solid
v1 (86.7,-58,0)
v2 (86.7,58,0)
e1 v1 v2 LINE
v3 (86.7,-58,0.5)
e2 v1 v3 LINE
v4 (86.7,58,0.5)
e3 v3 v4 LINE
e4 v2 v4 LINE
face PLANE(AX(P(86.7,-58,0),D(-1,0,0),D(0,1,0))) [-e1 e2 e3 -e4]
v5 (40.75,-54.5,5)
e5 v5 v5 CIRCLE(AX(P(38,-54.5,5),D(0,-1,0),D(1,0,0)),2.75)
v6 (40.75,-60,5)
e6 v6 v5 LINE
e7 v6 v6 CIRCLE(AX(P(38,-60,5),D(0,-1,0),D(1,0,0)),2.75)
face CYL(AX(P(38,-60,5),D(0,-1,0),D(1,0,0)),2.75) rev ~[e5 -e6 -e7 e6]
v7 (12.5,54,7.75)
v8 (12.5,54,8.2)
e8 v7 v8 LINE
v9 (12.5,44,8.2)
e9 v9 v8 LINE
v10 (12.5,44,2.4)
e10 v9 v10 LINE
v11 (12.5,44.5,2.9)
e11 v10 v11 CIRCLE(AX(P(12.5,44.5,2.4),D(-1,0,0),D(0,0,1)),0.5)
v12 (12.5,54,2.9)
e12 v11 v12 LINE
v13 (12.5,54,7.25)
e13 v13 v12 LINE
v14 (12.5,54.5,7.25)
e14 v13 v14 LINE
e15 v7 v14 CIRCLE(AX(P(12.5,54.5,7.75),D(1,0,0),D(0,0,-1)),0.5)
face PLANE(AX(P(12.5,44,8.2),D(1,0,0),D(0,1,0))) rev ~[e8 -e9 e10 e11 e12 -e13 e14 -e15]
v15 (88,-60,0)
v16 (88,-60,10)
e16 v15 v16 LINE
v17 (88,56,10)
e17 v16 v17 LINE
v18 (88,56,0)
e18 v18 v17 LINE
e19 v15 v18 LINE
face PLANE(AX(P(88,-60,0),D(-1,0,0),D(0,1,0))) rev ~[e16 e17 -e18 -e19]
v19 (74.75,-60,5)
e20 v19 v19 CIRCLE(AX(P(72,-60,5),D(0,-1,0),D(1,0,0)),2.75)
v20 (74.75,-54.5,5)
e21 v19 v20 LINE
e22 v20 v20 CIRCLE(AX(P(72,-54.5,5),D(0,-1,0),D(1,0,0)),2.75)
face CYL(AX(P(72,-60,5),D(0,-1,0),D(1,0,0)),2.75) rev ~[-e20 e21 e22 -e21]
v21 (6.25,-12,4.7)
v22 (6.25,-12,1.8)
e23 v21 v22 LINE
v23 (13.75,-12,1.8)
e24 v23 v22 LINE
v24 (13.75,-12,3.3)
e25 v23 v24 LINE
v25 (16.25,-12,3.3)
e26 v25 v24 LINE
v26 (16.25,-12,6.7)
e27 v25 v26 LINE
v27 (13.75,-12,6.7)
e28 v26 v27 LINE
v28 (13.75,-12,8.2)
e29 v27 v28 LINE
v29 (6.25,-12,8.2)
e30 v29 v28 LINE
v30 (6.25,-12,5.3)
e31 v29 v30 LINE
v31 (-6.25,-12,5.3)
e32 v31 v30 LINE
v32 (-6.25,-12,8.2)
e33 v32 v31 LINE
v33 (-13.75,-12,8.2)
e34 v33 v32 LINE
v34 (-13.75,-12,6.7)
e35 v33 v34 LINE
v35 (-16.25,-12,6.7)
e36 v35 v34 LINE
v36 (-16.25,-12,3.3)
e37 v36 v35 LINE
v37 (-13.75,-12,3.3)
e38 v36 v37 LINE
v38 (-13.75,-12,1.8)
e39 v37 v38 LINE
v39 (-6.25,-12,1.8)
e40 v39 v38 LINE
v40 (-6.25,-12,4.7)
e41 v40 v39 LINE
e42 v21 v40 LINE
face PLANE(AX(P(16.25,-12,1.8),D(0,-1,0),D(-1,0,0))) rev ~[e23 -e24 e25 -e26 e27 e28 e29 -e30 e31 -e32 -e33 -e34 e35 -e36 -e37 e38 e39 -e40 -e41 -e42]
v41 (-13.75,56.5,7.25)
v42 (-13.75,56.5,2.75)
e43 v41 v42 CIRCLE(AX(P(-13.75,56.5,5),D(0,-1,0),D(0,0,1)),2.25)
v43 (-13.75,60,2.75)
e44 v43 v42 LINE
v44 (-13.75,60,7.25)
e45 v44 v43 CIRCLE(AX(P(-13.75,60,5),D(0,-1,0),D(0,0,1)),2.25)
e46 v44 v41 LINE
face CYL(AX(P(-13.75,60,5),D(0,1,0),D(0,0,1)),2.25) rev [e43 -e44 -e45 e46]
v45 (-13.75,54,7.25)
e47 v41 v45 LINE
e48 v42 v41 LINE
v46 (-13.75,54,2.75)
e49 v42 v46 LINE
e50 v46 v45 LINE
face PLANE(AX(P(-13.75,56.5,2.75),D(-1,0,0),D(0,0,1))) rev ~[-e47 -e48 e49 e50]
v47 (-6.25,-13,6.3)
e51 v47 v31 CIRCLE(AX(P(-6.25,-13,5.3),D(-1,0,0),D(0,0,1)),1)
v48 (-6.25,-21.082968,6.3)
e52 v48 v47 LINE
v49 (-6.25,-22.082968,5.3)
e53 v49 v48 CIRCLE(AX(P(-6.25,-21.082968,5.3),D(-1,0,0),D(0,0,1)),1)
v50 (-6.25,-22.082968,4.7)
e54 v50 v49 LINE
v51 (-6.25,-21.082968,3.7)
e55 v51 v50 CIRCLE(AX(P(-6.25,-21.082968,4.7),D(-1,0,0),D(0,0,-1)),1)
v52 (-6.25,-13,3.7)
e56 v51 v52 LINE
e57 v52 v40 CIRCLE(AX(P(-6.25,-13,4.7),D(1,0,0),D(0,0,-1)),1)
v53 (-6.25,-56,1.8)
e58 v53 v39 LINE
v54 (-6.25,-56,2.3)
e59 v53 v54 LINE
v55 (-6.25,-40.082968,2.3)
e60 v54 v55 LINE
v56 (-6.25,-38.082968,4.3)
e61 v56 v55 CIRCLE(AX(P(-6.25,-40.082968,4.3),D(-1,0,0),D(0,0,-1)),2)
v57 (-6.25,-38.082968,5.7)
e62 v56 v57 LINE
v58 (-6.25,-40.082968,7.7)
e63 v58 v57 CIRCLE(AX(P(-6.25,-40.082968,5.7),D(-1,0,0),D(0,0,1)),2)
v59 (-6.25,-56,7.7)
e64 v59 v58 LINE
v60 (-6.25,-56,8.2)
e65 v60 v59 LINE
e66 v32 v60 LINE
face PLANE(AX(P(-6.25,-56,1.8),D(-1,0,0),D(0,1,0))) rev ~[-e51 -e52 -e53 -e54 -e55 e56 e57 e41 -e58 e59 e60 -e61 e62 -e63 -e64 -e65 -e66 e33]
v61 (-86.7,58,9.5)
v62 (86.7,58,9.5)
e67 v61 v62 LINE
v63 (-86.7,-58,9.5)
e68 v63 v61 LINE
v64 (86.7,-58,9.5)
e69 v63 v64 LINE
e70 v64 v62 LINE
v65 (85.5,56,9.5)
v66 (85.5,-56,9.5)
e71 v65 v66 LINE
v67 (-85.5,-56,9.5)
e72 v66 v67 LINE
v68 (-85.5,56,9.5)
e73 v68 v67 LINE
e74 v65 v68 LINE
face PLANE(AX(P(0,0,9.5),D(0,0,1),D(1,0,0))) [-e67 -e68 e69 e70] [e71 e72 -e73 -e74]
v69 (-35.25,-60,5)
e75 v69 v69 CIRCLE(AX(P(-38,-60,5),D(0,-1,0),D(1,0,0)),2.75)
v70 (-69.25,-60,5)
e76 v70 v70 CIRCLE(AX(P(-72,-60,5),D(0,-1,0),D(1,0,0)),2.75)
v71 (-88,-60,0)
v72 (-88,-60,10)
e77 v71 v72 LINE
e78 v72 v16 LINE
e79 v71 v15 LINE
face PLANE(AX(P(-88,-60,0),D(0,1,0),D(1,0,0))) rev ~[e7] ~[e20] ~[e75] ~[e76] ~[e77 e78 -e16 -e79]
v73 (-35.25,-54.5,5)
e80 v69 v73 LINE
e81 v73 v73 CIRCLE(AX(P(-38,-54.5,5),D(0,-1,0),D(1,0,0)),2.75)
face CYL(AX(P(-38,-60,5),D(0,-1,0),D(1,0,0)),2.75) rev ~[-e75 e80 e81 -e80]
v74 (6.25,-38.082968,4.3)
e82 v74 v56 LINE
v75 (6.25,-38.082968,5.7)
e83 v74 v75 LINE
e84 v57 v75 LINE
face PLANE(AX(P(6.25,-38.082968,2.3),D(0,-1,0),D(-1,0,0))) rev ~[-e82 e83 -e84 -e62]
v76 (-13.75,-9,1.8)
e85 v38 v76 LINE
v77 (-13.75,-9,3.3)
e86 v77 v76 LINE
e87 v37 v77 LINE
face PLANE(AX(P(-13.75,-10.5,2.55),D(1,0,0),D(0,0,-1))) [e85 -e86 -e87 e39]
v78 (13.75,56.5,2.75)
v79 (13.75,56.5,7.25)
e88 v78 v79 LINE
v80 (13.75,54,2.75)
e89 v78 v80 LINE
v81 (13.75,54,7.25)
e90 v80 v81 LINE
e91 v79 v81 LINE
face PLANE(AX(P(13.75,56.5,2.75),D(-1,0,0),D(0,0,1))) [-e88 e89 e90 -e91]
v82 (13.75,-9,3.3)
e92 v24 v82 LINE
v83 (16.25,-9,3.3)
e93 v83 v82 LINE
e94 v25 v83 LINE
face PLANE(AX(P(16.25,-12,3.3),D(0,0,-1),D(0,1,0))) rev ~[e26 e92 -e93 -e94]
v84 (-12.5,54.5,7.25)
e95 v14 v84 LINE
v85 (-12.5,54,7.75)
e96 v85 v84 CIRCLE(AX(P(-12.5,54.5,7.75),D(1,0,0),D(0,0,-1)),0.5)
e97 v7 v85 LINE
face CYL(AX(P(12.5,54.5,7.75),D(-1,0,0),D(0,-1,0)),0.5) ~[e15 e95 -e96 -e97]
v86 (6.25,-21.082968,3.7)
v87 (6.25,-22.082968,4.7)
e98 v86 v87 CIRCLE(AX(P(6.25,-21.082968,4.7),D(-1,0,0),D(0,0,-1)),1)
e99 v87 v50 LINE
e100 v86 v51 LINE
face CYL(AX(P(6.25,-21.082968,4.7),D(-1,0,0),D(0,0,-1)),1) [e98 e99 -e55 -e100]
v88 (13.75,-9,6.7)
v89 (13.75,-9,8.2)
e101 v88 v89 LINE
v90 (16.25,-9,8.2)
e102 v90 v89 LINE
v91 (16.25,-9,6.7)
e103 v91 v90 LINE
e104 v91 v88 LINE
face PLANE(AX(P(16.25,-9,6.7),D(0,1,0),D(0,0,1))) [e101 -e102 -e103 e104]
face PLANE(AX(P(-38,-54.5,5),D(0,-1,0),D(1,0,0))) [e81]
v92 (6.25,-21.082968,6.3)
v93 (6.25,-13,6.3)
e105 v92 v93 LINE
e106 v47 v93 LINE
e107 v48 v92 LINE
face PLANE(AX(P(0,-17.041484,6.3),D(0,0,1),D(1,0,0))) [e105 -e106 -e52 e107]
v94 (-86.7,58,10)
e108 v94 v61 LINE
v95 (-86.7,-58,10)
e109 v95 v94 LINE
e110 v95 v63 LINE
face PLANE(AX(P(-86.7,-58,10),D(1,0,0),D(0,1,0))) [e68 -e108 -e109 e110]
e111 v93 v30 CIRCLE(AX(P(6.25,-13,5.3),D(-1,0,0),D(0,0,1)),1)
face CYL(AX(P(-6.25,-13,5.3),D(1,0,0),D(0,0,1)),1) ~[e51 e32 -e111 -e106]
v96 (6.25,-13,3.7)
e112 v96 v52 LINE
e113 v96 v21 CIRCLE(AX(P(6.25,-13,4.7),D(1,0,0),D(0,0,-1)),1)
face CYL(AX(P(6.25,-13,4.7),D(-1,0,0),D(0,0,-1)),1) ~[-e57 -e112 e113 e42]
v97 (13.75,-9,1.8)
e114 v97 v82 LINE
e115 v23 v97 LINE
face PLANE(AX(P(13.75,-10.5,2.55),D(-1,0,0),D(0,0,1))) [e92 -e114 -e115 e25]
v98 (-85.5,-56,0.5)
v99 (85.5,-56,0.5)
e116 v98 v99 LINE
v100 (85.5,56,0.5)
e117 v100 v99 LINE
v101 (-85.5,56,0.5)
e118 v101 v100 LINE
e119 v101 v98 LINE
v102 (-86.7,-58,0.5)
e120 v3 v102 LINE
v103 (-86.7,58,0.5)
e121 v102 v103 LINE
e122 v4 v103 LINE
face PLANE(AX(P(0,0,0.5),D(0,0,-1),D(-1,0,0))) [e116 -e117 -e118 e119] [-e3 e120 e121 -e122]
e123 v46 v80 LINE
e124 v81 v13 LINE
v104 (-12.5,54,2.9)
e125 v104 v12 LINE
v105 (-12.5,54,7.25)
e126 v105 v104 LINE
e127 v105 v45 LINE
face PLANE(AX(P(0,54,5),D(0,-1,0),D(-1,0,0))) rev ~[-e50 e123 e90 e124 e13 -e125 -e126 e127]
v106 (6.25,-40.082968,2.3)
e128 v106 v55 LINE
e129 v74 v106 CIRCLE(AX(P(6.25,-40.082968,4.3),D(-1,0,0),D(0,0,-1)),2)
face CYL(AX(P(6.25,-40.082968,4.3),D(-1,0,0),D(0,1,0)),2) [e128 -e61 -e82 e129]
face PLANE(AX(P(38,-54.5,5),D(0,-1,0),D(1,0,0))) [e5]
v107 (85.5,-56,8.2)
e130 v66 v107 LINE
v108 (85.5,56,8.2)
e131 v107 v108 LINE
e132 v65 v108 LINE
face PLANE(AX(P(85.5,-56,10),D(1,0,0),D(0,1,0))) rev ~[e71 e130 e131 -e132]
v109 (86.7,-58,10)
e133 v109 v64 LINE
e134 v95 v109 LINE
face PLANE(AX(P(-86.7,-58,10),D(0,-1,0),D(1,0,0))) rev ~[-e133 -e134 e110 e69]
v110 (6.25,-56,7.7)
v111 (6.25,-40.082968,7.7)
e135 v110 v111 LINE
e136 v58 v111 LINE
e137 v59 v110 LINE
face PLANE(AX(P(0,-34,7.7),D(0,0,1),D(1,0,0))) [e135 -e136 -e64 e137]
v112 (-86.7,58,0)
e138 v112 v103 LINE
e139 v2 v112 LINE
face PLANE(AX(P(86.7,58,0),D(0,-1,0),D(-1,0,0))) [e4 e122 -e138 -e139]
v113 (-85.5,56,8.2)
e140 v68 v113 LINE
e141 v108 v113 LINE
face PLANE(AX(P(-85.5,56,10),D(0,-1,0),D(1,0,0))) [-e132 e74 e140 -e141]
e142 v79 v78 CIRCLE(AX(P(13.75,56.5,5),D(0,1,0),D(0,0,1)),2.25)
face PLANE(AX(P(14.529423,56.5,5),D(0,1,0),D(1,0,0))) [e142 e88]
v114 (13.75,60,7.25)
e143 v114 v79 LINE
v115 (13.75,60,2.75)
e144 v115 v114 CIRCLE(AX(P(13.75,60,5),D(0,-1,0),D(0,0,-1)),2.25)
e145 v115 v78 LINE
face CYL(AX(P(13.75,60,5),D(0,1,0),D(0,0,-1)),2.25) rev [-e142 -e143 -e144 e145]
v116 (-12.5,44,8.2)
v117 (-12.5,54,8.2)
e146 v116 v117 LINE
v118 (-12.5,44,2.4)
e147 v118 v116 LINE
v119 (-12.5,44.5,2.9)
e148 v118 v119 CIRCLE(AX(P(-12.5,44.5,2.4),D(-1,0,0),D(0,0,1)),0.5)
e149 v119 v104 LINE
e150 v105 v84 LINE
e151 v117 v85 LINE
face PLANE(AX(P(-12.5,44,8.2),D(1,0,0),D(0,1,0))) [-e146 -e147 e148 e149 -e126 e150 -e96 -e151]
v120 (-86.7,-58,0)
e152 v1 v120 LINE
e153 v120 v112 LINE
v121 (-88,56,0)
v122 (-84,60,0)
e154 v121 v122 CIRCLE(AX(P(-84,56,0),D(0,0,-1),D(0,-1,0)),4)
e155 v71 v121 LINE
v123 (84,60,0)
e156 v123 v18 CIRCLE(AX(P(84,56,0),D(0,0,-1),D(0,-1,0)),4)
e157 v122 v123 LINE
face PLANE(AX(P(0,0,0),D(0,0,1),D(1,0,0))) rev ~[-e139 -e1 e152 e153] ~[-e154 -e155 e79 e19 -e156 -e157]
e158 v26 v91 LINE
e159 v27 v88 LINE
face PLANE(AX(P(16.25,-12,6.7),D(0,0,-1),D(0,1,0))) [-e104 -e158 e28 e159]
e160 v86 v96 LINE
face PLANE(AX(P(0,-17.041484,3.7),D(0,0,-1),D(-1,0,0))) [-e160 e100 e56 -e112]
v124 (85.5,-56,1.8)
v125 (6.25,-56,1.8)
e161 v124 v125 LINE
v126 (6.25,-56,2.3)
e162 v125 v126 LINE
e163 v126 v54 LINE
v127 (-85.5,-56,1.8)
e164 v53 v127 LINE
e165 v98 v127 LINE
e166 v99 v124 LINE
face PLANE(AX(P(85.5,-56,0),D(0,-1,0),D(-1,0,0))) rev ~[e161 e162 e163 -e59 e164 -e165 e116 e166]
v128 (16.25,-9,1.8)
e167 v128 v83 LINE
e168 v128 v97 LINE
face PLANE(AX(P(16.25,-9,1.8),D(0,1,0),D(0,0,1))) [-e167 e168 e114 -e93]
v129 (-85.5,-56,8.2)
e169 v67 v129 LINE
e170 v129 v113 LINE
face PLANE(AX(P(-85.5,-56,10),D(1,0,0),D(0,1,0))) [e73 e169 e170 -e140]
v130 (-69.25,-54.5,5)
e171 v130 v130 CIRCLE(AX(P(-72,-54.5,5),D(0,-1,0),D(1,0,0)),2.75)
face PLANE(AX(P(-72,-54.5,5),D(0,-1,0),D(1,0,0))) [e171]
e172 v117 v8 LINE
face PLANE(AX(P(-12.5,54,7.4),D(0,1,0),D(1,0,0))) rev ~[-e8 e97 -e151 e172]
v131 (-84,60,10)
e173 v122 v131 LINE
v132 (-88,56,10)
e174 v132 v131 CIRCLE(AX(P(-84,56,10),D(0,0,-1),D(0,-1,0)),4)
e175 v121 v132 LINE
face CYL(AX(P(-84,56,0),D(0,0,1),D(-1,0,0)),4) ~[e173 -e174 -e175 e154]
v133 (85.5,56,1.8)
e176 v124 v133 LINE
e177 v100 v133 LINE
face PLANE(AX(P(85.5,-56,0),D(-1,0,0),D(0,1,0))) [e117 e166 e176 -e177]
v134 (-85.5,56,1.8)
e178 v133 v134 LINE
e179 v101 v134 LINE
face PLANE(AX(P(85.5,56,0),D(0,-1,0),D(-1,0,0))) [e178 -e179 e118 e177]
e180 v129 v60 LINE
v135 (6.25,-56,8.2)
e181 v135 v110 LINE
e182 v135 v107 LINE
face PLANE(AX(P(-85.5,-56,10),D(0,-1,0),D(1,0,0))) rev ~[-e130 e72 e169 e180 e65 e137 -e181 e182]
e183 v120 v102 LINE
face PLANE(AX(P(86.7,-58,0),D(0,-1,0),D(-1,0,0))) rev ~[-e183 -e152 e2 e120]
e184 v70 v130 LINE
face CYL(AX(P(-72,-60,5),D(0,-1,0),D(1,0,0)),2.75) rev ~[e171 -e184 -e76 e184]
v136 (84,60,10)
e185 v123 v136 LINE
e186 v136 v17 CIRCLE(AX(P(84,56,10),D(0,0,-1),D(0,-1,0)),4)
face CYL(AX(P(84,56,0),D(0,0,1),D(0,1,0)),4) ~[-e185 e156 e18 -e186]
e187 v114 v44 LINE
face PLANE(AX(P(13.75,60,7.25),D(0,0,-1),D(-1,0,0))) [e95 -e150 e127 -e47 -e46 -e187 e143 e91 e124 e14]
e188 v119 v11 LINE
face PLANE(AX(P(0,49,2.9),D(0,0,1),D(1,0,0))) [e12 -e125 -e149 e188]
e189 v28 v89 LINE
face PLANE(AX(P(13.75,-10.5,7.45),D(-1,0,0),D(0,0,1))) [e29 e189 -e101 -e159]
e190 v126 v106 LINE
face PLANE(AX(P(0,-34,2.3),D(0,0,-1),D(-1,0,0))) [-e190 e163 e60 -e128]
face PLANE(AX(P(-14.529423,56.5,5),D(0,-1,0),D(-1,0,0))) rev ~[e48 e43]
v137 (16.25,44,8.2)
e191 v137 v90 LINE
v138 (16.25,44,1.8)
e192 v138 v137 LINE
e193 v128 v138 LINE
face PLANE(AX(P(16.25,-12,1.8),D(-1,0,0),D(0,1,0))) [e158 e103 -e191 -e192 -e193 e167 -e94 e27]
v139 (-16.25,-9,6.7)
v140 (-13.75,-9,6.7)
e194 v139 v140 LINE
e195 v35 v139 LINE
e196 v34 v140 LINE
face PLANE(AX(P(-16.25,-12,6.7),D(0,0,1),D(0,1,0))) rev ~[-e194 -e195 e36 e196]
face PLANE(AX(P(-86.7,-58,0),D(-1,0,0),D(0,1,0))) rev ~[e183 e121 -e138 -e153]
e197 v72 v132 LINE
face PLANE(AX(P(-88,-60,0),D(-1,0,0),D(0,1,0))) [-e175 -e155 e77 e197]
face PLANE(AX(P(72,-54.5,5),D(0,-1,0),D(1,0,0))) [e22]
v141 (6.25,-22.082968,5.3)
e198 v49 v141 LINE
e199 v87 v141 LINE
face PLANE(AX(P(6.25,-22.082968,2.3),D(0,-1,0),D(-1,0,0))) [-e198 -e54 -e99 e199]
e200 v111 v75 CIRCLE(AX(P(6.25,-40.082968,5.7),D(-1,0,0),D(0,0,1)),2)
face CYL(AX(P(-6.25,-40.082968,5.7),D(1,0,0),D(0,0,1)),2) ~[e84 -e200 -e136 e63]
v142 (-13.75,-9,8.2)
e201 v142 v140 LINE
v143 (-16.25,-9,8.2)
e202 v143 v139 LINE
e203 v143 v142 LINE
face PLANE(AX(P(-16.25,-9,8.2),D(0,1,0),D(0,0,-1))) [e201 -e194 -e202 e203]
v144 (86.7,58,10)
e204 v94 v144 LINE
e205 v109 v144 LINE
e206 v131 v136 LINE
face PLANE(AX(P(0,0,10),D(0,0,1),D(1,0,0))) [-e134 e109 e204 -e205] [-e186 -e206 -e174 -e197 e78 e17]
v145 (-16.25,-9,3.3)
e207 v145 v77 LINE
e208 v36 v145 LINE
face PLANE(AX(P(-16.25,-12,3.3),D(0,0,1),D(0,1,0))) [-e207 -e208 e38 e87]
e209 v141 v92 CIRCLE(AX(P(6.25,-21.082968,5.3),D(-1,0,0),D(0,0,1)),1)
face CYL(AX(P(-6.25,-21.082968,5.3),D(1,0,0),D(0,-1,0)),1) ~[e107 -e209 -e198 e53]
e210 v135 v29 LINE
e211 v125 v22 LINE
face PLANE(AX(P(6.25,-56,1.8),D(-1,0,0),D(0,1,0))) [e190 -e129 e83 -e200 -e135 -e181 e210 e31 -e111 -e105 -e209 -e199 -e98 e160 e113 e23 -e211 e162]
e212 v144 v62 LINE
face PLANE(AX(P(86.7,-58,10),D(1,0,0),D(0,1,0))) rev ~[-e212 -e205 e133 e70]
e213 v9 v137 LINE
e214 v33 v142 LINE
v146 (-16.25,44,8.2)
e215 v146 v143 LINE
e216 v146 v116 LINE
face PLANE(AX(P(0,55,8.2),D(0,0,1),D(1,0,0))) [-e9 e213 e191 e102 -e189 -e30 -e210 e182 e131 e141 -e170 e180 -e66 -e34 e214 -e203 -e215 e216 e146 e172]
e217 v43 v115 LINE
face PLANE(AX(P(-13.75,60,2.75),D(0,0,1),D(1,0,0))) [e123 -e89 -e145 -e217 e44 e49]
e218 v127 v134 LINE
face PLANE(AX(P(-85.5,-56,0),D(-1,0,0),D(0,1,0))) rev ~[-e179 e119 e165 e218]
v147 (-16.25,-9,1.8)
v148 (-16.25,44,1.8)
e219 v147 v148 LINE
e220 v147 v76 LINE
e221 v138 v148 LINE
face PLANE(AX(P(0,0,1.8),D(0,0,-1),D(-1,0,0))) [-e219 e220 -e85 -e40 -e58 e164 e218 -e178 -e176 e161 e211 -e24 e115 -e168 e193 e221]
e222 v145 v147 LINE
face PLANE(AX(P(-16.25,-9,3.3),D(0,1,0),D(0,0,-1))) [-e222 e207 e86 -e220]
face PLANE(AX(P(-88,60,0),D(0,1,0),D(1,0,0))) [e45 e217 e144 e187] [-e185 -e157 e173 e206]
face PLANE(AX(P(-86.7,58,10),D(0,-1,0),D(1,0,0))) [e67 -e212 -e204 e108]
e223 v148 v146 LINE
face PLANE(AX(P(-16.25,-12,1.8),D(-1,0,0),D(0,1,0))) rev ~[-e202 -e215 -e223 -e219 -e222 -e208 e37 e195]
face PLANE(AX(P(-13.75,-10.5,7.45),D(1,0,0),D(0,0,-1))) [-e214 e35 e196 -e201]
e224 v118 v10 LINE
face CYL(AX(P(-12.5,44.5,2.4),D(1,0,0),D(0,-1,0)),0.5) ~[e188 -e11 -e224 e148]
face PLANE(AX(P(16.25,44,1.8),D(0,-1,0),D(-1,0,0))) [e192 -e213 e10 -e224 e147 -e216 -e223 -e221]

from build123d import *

# Parameters (mm, degrees)
SKETCH_1_W           = 176
SKETCH_1_H           = 120
EXTRUDE_1_DEPTH      = 10
SKETCH_2_W           = 171
SKETCH_2_H           = 112
CUT_EXTRUDE_1_DEPTH  = 1.8
SKETCH_3_W           = 171
SKETCH_3_H           = 112
CUT_EXTRUDE_2_DEPTH  = 1.8
SKETCH_5_W           = 173.4
SKETCH_5_H           = 116
CUT_EXTRUDE_3_DEPTH  = 0.5
SKETCH_6_W           = 173.4
SKETCH_6_H           = 116
CUT_EXTRUDE_4_DEPTH  = 0.5
SKETCH_7_W           = 32.5
SKETCH_7_H           = 56
CUT_EXTRUDE_5_DEPTH  = 107.823405675
SKETCH_8_W           = 12.5
SKETCH_8_H           = 44
CUT_EXTRUDE_6_DEPTH  = 0.5
SKETCH_9_W           = 12.5
SKETCH_9_H           = 44
CUT_EXTRUDE_7_DEPTH  = 0.5
SKETCH_10_W          = 25
SKETCH_10_H          = 12
CUT_EXTRUDE_8_DEPTH  = 0.8
CUT_EXTRUDE_10_DEPTH = 6
FILLET_1_R           = 4
FILLET_2_R           = 4
SKETCH_18_W          = 1.5
SKETCH_18_H          = 3
EXTRUDE_3_DEPTH      = 2.5
SKETCH_20_W          = 1.5
SKETCH_20_H          = 3
EXTRUDE_4_DEPTH      = 2.5
SKETCH_21_W          = 12.5
SKETCH_21_H          = 16
CUT_EXTRUDE_12_DEPTH = 107.786188245
SKETCH_22_W          = 25
SKETCH_22_H          = 10
CUT_EXTRUDE_13_DEPTH = 4.5
SKETCH_23_W          = 25
SKETCH_23_H          = 2
EXTRUDE_5_DEPTH      = 0.8
FILLET_15_R          = 0.5
EXTRUDE_START        = 2.5
EXTRUDE_6_DEPTH      = 2.5
SKETCH_25_W          = 12.5
SKETCH_25_H          = 10.082968054
CUT_EXTRUDE_14_DEPTH = 1.4
SKETCH_26_W          = 12.5
SKETCH_26_H          = 10.082968054
CUT_EXTRUDE_15_DEPTH = 1.4
FILLET_16_R          = 1
FILLET_17_R          = 1
FILLET_18_R          = 1
FILLET_19_R          = 1
FILLET_21_R          = 2
FILLET_22_R          = 2
SKETCH_28_R          = 2.75
CUT_EXTRUDE_16_DEPTH = 5.5
FILLET_23_R          = 0.5


with BuildPart() as part:
    # 草图1 → 凸台-拉伸1 (new body)
    with BuildSketch(Plane.XY):
        Rectangle(SKETCH_1_W, SKETCH_1_H)
    extrude(amount=EXTRUDE_1_DEPTH)

    # 草图2 → 切除-拉伸1 (cut)
    with BuildSketch(Plane.XY.offset(10)):
        Rectangle(SKETCH_2_W, SKETCH_2_H)
    extrude(amount=-CUT_EXTRUDE_1_DEPTH, mode=Mode.SUBTRACT)

    # 草图3 → 切除-拉伸2 (cut)
    with BuildSketch(Plane(origin=(0, 0, 0), x_dir=(-1, 0, 0), z_dir=(0, 0, -1))):
        Rectangle(SKETCH_3_W, SKETCH_3_H)
    extrude(amount=-CUT_EXTRUDE_2_DEPTH, mode=Mode.SUBTRACT)

    # 草图5 → 切除-拉伸3 (cut)
    with BuildSketch(Plane(origin=(0, 0, 0), x_dir=(-1, 0, 0), z_dir=(0, 0, -1))):
        Rectangle(SKETCH_5_W, SKETCH_5_H)
    extrude(amount=-CUT_EXTRUDE_3_DEPTH, mode=Mode.SUBTRACT)

    # 草图6 → 切除-拉伸4 (cut)
    with BuildSketch(Plane.XY.offset(10)):
        Rectangle(SKETCH_6_W, SKETCH_6_H)
    extrude(amount=-CUT_EXTRUDE_4_DEPTH, mode=Mode.SUBTRACT)

    # 草图7 → 切除-拉伸5 (cut, through all)
    with BuildSketch(Plane(origin=(0, 0, 1.8), x_dir=(-1, 0, 0), z_dir=(0, 0, -1))):
        with Locations((0, 16)):
            Rectangle(SKETCH_7_W, SKETCH_7_H)
    extrude(amount=-CUT_EXTRUDE_5_DEPTH, mode=Mode.SUBTRACT)

    # 草图8 → 切除-拉伸6 (cut)
    with BuildSketch(Plane(origin=(0, 0, 1.8), x_dir=(-1, 0, 0), z_dir=(0, 0, -1))):
        with Locations((0, -34)):
            Rectangle(SKETCH_8_W, SKETCH_8_H)
    extrude(amount=-CUT_EXTRUDE_6_DEPTH, mode=Mode.SUBTRACT)

    # 草图9 → 切除-拉伸7 (cut)
    with BuildSketch(Plane.XY.offset(8.2)):
        with Locations((0, -34)):
            Rectangle(SKETCH_9_W, SKETCH_9_H)
    extrude(amount=-CUT_EXTRUDE_7_DEPTH, mode=Mode.SUBTRACT)

    # 草图10 → 切除-拉伸8 (cut)
    with BuildSketch(Plane.XY.offset(8.2)):
        with Locations((0, 50)):
            Rectangle(SKETCH_10_W, SKETCH_10_H)
    extrude(amount=-CUT_EXTRUDE_8_DEPTH, mode=Mode.SUBTRACT)

    # 草图13 → 切除-拉伸10 (cut)
    with BuildSketch(Plane(origin=(0, 60, 0), x_dir=(1, 0, 0), z_dir=(0, 1, 0))):
        with BuildLine():
            Line((-13.75, -2.75), (13.75, -2.75))
            ThreePointArc((13.75, -2.75), (16, -5), (13.75, -7.25))
            Line((13.75, -7.25), (-13.75, -7.25))
            ThreePointArc((-13.75, -7.25), (-16, -5), (-13.75, -2.75))
        make_face()
    extrude(amount=-CUT_EXTRUDE_10_DEPTH, mode=Mode.SUBTRACT)

    # 圆角1
    fillet_1_edges = [part.edges().sort_by_distance(p)[0] for p in [
        (-88, 60, 5),
    ]]
    fillet(fillet_1_edges, radius=FILLET_1_R)

    # 圆角2
    fillet_2_edges = [part.edges().sort_by_distance(p)[0] for p in [
        (88, 60, 5),
    ]]
    fillet(fillet_2_edges, radius=FILLET_2_R)

    # 草图18 → 凸台-拉伸3 (add)
    with BuildSketch(Plane(origin=(-16.25, 0, 0), x_dir=(0, 0, -1), z_dir=(1, 0, 0))):
        with Locations((-2.55, -10.5)):
            Rectangle(SKETCH_18_W, SKETCH_18_H)
        with Locations((-7.45, -10.5)):
            Rectangle(SKETCH_18_W, SKETCH_18_H)
    extrude(amount=EXTRUDE_3_DEPTH)

    # 草图20 → 凸台-拉伸4 (add)
    with BuildSketch(Plane.ZY.offset(-16.25)):
        with Locations((7.45, -10.5)):
            Rectangle(SKETCH_20_W, SKETCH_20_H)
        with Locations((2.55, -10.5)):
            Rectangle(SKETCH_20_W, SKETCH_20_H)
    extrude(amount=EXTRUDE_4_DEPTH)

    # 草图21 → 切除-拉伸12 (cut, through all)
    with BuildSketch(Plane(origin=(0, 0, 2.3), x_dir=(-1, 0, 0), z_dir=(0, 0, -1))):
        with Locations((0, -30.082968054)):
            Rectangle(SKETCH_21_W, SKETCH_21_H)
    extrude(amount=-CUT_EXTRUDE_12_DEPTH, mode=Mode.SUBTRACT)

    # 草图22 → 切除-拉伸13 (cut)
    with BuildSketch(Plane.XY.offset(7.4)):
        with Locations((0, 49)):
            Rectangle(SKETCH_22_W, SKETCH_22_H)
    extrude(amount=-CUT_EXTRUDE_13_DEPTH, mode=Mode.SUBTRACT)

    # 草图23 → 凸台-拉伸5 (add)
    with BuildSketch(Plane.XY.offset(7.4)):
        with Locations((0, 55)):
            Rectangle(SKETCH_23_W, SKETCH_23_H)
    extrude(amount=EXTRUDE_5_DEPTH)

    # 圆角15
    fillet_15_edges = [part.edges().sort_by_distance(p)[0] for p in [
        (0, 54, 7.25),
    ]]
    fillet(fillet_15_edges, radius=FILLET_15_R)

    # 草图24 → 凸台-拉伸6 (add)
    with BuildSketch(Plane(origin=(0, 54, 0), x_dir=(1, 0, 0), z_dir=(0, 1, 0)).offset(EXTRUDE_START)):
        with BuildLine():
            Line((-13.75, -2.75), (-13.75, -7.25))
            ThreePointArc((-13.75, -7.25), (-16, -5), (-13.75, -2.75))
        make_face()
        with BuildLine():
            Line((13.75, -2.75), (13.75, -7.25))
            ThreePointArc((13.75, -7.25), (16, -5), (13.75, -2.75))
        make_face()
    extrude(amount=-EXTRUDE_6_DEPTH)

    # 草图25 → 切除-拉伸14 (cut)
    with BuildSketch(Plane.XY.offset(7.7)):
        with Locations((0, -17.041484027)):
            Rectangle(SKETCH_25_W, SKETCH_25_H)
    extrude(amount=-CUT_EXTRUDE_14_DEPTH, mode=Mode.SUBTRACT)

    # 草图26 → 切除-拉伸15 (cut)
    with BuildSketch(Plane(origin=(0, 0, 2.3), x_dir=(-1, 0, 0), z_dir=(0, 0, -1))):
        with Locations((0, -17.041484027)):
            Rectangle(SKETCH_26_W, SKETCH_26_H)
    extrude(amount=-CUT_EXTRUDE_15_DEPTH, mode=Mode.SUBTRACT)

    # 圆角16
    fillet_16_edges = [part.edges().sort_by_distance(p)[0] for p in [
        (0, -22.082968054, 3.7),
    ]]
    fillet(fillet_16_edges, radius=FILLET_16_R)

    # 圆角17
    fillet_17_edges = [part.edges().sort_by_distance(p)[0] for p in [
        (0, -12, 3.7),
    ]]
    fillet(fillet_17_edges, radius=FILLET_17_R)

    # 圆角18
    fillet_18_edges = [part.edges().sort_by_distance(p)[0] for p in [
        (0, -12, 6.3),
    ]]
    fillet(fillet_18_edges, radius=FILLET_18_R)

    # 圆角19
    fillet_19_edges = [part.edges().sort_by_distance(p)[0] for p in [
        (0, -22.082968054, 6.3),
    ]]
    fillet(fillet_19_edges, radius=FILLET_19_R)

    # 圆角21
    fillet_21_edges = [part.edges().sort_by_distance(p)[0] for p in [
        (0, -38.082968054, 7.7),
    ]]
    fillet(fillet_21_edges, radius=FILLET_21_R)

    # 圆角22
    fillet_22_edges = [part.edges().sort_by_distance(p)[0] for p in [
        (0, -38.082968054, 2.3),
    ]]
    fillet(fillet_22_edges, radius=FILLET_22_R)

    # 草图28 → 切除-拉伸16 (cut)
    with BuildSketch(Plane(origin=(0, -60, 0), x_dir=(-1, 0, 0), z_dir=(0, -1, 0))):
        with Locations(Location((-72, -5, 0), (0, 0, 180))):
            Circle(SKETCH_28_R)
        with Locations(Location((-38, -5, 0), (0, 0, 180))):
            Circle(SKETCH_28_R)
        with Locations(Location((38, -5, 0), (0, 0, 180))):
            Circle(SKETCH_28_R)
        with Locations(Location((72, -5, 0), (0, 0, 180))):
            Circle(SKETCH_28_R)
    extrude(amount=-CUT_EXTRUDE_16_DEPTH, mode=Mode.SUBTRACT)

    # 圆角23
    fillet_23_edges = [part.edges().sort_by_distance(p)[0] for p in [
        (0, 44, 2.9),
    ]]
    fillet(fillet_23_edges, radius=FILLET_23_R)


solid = part.part
